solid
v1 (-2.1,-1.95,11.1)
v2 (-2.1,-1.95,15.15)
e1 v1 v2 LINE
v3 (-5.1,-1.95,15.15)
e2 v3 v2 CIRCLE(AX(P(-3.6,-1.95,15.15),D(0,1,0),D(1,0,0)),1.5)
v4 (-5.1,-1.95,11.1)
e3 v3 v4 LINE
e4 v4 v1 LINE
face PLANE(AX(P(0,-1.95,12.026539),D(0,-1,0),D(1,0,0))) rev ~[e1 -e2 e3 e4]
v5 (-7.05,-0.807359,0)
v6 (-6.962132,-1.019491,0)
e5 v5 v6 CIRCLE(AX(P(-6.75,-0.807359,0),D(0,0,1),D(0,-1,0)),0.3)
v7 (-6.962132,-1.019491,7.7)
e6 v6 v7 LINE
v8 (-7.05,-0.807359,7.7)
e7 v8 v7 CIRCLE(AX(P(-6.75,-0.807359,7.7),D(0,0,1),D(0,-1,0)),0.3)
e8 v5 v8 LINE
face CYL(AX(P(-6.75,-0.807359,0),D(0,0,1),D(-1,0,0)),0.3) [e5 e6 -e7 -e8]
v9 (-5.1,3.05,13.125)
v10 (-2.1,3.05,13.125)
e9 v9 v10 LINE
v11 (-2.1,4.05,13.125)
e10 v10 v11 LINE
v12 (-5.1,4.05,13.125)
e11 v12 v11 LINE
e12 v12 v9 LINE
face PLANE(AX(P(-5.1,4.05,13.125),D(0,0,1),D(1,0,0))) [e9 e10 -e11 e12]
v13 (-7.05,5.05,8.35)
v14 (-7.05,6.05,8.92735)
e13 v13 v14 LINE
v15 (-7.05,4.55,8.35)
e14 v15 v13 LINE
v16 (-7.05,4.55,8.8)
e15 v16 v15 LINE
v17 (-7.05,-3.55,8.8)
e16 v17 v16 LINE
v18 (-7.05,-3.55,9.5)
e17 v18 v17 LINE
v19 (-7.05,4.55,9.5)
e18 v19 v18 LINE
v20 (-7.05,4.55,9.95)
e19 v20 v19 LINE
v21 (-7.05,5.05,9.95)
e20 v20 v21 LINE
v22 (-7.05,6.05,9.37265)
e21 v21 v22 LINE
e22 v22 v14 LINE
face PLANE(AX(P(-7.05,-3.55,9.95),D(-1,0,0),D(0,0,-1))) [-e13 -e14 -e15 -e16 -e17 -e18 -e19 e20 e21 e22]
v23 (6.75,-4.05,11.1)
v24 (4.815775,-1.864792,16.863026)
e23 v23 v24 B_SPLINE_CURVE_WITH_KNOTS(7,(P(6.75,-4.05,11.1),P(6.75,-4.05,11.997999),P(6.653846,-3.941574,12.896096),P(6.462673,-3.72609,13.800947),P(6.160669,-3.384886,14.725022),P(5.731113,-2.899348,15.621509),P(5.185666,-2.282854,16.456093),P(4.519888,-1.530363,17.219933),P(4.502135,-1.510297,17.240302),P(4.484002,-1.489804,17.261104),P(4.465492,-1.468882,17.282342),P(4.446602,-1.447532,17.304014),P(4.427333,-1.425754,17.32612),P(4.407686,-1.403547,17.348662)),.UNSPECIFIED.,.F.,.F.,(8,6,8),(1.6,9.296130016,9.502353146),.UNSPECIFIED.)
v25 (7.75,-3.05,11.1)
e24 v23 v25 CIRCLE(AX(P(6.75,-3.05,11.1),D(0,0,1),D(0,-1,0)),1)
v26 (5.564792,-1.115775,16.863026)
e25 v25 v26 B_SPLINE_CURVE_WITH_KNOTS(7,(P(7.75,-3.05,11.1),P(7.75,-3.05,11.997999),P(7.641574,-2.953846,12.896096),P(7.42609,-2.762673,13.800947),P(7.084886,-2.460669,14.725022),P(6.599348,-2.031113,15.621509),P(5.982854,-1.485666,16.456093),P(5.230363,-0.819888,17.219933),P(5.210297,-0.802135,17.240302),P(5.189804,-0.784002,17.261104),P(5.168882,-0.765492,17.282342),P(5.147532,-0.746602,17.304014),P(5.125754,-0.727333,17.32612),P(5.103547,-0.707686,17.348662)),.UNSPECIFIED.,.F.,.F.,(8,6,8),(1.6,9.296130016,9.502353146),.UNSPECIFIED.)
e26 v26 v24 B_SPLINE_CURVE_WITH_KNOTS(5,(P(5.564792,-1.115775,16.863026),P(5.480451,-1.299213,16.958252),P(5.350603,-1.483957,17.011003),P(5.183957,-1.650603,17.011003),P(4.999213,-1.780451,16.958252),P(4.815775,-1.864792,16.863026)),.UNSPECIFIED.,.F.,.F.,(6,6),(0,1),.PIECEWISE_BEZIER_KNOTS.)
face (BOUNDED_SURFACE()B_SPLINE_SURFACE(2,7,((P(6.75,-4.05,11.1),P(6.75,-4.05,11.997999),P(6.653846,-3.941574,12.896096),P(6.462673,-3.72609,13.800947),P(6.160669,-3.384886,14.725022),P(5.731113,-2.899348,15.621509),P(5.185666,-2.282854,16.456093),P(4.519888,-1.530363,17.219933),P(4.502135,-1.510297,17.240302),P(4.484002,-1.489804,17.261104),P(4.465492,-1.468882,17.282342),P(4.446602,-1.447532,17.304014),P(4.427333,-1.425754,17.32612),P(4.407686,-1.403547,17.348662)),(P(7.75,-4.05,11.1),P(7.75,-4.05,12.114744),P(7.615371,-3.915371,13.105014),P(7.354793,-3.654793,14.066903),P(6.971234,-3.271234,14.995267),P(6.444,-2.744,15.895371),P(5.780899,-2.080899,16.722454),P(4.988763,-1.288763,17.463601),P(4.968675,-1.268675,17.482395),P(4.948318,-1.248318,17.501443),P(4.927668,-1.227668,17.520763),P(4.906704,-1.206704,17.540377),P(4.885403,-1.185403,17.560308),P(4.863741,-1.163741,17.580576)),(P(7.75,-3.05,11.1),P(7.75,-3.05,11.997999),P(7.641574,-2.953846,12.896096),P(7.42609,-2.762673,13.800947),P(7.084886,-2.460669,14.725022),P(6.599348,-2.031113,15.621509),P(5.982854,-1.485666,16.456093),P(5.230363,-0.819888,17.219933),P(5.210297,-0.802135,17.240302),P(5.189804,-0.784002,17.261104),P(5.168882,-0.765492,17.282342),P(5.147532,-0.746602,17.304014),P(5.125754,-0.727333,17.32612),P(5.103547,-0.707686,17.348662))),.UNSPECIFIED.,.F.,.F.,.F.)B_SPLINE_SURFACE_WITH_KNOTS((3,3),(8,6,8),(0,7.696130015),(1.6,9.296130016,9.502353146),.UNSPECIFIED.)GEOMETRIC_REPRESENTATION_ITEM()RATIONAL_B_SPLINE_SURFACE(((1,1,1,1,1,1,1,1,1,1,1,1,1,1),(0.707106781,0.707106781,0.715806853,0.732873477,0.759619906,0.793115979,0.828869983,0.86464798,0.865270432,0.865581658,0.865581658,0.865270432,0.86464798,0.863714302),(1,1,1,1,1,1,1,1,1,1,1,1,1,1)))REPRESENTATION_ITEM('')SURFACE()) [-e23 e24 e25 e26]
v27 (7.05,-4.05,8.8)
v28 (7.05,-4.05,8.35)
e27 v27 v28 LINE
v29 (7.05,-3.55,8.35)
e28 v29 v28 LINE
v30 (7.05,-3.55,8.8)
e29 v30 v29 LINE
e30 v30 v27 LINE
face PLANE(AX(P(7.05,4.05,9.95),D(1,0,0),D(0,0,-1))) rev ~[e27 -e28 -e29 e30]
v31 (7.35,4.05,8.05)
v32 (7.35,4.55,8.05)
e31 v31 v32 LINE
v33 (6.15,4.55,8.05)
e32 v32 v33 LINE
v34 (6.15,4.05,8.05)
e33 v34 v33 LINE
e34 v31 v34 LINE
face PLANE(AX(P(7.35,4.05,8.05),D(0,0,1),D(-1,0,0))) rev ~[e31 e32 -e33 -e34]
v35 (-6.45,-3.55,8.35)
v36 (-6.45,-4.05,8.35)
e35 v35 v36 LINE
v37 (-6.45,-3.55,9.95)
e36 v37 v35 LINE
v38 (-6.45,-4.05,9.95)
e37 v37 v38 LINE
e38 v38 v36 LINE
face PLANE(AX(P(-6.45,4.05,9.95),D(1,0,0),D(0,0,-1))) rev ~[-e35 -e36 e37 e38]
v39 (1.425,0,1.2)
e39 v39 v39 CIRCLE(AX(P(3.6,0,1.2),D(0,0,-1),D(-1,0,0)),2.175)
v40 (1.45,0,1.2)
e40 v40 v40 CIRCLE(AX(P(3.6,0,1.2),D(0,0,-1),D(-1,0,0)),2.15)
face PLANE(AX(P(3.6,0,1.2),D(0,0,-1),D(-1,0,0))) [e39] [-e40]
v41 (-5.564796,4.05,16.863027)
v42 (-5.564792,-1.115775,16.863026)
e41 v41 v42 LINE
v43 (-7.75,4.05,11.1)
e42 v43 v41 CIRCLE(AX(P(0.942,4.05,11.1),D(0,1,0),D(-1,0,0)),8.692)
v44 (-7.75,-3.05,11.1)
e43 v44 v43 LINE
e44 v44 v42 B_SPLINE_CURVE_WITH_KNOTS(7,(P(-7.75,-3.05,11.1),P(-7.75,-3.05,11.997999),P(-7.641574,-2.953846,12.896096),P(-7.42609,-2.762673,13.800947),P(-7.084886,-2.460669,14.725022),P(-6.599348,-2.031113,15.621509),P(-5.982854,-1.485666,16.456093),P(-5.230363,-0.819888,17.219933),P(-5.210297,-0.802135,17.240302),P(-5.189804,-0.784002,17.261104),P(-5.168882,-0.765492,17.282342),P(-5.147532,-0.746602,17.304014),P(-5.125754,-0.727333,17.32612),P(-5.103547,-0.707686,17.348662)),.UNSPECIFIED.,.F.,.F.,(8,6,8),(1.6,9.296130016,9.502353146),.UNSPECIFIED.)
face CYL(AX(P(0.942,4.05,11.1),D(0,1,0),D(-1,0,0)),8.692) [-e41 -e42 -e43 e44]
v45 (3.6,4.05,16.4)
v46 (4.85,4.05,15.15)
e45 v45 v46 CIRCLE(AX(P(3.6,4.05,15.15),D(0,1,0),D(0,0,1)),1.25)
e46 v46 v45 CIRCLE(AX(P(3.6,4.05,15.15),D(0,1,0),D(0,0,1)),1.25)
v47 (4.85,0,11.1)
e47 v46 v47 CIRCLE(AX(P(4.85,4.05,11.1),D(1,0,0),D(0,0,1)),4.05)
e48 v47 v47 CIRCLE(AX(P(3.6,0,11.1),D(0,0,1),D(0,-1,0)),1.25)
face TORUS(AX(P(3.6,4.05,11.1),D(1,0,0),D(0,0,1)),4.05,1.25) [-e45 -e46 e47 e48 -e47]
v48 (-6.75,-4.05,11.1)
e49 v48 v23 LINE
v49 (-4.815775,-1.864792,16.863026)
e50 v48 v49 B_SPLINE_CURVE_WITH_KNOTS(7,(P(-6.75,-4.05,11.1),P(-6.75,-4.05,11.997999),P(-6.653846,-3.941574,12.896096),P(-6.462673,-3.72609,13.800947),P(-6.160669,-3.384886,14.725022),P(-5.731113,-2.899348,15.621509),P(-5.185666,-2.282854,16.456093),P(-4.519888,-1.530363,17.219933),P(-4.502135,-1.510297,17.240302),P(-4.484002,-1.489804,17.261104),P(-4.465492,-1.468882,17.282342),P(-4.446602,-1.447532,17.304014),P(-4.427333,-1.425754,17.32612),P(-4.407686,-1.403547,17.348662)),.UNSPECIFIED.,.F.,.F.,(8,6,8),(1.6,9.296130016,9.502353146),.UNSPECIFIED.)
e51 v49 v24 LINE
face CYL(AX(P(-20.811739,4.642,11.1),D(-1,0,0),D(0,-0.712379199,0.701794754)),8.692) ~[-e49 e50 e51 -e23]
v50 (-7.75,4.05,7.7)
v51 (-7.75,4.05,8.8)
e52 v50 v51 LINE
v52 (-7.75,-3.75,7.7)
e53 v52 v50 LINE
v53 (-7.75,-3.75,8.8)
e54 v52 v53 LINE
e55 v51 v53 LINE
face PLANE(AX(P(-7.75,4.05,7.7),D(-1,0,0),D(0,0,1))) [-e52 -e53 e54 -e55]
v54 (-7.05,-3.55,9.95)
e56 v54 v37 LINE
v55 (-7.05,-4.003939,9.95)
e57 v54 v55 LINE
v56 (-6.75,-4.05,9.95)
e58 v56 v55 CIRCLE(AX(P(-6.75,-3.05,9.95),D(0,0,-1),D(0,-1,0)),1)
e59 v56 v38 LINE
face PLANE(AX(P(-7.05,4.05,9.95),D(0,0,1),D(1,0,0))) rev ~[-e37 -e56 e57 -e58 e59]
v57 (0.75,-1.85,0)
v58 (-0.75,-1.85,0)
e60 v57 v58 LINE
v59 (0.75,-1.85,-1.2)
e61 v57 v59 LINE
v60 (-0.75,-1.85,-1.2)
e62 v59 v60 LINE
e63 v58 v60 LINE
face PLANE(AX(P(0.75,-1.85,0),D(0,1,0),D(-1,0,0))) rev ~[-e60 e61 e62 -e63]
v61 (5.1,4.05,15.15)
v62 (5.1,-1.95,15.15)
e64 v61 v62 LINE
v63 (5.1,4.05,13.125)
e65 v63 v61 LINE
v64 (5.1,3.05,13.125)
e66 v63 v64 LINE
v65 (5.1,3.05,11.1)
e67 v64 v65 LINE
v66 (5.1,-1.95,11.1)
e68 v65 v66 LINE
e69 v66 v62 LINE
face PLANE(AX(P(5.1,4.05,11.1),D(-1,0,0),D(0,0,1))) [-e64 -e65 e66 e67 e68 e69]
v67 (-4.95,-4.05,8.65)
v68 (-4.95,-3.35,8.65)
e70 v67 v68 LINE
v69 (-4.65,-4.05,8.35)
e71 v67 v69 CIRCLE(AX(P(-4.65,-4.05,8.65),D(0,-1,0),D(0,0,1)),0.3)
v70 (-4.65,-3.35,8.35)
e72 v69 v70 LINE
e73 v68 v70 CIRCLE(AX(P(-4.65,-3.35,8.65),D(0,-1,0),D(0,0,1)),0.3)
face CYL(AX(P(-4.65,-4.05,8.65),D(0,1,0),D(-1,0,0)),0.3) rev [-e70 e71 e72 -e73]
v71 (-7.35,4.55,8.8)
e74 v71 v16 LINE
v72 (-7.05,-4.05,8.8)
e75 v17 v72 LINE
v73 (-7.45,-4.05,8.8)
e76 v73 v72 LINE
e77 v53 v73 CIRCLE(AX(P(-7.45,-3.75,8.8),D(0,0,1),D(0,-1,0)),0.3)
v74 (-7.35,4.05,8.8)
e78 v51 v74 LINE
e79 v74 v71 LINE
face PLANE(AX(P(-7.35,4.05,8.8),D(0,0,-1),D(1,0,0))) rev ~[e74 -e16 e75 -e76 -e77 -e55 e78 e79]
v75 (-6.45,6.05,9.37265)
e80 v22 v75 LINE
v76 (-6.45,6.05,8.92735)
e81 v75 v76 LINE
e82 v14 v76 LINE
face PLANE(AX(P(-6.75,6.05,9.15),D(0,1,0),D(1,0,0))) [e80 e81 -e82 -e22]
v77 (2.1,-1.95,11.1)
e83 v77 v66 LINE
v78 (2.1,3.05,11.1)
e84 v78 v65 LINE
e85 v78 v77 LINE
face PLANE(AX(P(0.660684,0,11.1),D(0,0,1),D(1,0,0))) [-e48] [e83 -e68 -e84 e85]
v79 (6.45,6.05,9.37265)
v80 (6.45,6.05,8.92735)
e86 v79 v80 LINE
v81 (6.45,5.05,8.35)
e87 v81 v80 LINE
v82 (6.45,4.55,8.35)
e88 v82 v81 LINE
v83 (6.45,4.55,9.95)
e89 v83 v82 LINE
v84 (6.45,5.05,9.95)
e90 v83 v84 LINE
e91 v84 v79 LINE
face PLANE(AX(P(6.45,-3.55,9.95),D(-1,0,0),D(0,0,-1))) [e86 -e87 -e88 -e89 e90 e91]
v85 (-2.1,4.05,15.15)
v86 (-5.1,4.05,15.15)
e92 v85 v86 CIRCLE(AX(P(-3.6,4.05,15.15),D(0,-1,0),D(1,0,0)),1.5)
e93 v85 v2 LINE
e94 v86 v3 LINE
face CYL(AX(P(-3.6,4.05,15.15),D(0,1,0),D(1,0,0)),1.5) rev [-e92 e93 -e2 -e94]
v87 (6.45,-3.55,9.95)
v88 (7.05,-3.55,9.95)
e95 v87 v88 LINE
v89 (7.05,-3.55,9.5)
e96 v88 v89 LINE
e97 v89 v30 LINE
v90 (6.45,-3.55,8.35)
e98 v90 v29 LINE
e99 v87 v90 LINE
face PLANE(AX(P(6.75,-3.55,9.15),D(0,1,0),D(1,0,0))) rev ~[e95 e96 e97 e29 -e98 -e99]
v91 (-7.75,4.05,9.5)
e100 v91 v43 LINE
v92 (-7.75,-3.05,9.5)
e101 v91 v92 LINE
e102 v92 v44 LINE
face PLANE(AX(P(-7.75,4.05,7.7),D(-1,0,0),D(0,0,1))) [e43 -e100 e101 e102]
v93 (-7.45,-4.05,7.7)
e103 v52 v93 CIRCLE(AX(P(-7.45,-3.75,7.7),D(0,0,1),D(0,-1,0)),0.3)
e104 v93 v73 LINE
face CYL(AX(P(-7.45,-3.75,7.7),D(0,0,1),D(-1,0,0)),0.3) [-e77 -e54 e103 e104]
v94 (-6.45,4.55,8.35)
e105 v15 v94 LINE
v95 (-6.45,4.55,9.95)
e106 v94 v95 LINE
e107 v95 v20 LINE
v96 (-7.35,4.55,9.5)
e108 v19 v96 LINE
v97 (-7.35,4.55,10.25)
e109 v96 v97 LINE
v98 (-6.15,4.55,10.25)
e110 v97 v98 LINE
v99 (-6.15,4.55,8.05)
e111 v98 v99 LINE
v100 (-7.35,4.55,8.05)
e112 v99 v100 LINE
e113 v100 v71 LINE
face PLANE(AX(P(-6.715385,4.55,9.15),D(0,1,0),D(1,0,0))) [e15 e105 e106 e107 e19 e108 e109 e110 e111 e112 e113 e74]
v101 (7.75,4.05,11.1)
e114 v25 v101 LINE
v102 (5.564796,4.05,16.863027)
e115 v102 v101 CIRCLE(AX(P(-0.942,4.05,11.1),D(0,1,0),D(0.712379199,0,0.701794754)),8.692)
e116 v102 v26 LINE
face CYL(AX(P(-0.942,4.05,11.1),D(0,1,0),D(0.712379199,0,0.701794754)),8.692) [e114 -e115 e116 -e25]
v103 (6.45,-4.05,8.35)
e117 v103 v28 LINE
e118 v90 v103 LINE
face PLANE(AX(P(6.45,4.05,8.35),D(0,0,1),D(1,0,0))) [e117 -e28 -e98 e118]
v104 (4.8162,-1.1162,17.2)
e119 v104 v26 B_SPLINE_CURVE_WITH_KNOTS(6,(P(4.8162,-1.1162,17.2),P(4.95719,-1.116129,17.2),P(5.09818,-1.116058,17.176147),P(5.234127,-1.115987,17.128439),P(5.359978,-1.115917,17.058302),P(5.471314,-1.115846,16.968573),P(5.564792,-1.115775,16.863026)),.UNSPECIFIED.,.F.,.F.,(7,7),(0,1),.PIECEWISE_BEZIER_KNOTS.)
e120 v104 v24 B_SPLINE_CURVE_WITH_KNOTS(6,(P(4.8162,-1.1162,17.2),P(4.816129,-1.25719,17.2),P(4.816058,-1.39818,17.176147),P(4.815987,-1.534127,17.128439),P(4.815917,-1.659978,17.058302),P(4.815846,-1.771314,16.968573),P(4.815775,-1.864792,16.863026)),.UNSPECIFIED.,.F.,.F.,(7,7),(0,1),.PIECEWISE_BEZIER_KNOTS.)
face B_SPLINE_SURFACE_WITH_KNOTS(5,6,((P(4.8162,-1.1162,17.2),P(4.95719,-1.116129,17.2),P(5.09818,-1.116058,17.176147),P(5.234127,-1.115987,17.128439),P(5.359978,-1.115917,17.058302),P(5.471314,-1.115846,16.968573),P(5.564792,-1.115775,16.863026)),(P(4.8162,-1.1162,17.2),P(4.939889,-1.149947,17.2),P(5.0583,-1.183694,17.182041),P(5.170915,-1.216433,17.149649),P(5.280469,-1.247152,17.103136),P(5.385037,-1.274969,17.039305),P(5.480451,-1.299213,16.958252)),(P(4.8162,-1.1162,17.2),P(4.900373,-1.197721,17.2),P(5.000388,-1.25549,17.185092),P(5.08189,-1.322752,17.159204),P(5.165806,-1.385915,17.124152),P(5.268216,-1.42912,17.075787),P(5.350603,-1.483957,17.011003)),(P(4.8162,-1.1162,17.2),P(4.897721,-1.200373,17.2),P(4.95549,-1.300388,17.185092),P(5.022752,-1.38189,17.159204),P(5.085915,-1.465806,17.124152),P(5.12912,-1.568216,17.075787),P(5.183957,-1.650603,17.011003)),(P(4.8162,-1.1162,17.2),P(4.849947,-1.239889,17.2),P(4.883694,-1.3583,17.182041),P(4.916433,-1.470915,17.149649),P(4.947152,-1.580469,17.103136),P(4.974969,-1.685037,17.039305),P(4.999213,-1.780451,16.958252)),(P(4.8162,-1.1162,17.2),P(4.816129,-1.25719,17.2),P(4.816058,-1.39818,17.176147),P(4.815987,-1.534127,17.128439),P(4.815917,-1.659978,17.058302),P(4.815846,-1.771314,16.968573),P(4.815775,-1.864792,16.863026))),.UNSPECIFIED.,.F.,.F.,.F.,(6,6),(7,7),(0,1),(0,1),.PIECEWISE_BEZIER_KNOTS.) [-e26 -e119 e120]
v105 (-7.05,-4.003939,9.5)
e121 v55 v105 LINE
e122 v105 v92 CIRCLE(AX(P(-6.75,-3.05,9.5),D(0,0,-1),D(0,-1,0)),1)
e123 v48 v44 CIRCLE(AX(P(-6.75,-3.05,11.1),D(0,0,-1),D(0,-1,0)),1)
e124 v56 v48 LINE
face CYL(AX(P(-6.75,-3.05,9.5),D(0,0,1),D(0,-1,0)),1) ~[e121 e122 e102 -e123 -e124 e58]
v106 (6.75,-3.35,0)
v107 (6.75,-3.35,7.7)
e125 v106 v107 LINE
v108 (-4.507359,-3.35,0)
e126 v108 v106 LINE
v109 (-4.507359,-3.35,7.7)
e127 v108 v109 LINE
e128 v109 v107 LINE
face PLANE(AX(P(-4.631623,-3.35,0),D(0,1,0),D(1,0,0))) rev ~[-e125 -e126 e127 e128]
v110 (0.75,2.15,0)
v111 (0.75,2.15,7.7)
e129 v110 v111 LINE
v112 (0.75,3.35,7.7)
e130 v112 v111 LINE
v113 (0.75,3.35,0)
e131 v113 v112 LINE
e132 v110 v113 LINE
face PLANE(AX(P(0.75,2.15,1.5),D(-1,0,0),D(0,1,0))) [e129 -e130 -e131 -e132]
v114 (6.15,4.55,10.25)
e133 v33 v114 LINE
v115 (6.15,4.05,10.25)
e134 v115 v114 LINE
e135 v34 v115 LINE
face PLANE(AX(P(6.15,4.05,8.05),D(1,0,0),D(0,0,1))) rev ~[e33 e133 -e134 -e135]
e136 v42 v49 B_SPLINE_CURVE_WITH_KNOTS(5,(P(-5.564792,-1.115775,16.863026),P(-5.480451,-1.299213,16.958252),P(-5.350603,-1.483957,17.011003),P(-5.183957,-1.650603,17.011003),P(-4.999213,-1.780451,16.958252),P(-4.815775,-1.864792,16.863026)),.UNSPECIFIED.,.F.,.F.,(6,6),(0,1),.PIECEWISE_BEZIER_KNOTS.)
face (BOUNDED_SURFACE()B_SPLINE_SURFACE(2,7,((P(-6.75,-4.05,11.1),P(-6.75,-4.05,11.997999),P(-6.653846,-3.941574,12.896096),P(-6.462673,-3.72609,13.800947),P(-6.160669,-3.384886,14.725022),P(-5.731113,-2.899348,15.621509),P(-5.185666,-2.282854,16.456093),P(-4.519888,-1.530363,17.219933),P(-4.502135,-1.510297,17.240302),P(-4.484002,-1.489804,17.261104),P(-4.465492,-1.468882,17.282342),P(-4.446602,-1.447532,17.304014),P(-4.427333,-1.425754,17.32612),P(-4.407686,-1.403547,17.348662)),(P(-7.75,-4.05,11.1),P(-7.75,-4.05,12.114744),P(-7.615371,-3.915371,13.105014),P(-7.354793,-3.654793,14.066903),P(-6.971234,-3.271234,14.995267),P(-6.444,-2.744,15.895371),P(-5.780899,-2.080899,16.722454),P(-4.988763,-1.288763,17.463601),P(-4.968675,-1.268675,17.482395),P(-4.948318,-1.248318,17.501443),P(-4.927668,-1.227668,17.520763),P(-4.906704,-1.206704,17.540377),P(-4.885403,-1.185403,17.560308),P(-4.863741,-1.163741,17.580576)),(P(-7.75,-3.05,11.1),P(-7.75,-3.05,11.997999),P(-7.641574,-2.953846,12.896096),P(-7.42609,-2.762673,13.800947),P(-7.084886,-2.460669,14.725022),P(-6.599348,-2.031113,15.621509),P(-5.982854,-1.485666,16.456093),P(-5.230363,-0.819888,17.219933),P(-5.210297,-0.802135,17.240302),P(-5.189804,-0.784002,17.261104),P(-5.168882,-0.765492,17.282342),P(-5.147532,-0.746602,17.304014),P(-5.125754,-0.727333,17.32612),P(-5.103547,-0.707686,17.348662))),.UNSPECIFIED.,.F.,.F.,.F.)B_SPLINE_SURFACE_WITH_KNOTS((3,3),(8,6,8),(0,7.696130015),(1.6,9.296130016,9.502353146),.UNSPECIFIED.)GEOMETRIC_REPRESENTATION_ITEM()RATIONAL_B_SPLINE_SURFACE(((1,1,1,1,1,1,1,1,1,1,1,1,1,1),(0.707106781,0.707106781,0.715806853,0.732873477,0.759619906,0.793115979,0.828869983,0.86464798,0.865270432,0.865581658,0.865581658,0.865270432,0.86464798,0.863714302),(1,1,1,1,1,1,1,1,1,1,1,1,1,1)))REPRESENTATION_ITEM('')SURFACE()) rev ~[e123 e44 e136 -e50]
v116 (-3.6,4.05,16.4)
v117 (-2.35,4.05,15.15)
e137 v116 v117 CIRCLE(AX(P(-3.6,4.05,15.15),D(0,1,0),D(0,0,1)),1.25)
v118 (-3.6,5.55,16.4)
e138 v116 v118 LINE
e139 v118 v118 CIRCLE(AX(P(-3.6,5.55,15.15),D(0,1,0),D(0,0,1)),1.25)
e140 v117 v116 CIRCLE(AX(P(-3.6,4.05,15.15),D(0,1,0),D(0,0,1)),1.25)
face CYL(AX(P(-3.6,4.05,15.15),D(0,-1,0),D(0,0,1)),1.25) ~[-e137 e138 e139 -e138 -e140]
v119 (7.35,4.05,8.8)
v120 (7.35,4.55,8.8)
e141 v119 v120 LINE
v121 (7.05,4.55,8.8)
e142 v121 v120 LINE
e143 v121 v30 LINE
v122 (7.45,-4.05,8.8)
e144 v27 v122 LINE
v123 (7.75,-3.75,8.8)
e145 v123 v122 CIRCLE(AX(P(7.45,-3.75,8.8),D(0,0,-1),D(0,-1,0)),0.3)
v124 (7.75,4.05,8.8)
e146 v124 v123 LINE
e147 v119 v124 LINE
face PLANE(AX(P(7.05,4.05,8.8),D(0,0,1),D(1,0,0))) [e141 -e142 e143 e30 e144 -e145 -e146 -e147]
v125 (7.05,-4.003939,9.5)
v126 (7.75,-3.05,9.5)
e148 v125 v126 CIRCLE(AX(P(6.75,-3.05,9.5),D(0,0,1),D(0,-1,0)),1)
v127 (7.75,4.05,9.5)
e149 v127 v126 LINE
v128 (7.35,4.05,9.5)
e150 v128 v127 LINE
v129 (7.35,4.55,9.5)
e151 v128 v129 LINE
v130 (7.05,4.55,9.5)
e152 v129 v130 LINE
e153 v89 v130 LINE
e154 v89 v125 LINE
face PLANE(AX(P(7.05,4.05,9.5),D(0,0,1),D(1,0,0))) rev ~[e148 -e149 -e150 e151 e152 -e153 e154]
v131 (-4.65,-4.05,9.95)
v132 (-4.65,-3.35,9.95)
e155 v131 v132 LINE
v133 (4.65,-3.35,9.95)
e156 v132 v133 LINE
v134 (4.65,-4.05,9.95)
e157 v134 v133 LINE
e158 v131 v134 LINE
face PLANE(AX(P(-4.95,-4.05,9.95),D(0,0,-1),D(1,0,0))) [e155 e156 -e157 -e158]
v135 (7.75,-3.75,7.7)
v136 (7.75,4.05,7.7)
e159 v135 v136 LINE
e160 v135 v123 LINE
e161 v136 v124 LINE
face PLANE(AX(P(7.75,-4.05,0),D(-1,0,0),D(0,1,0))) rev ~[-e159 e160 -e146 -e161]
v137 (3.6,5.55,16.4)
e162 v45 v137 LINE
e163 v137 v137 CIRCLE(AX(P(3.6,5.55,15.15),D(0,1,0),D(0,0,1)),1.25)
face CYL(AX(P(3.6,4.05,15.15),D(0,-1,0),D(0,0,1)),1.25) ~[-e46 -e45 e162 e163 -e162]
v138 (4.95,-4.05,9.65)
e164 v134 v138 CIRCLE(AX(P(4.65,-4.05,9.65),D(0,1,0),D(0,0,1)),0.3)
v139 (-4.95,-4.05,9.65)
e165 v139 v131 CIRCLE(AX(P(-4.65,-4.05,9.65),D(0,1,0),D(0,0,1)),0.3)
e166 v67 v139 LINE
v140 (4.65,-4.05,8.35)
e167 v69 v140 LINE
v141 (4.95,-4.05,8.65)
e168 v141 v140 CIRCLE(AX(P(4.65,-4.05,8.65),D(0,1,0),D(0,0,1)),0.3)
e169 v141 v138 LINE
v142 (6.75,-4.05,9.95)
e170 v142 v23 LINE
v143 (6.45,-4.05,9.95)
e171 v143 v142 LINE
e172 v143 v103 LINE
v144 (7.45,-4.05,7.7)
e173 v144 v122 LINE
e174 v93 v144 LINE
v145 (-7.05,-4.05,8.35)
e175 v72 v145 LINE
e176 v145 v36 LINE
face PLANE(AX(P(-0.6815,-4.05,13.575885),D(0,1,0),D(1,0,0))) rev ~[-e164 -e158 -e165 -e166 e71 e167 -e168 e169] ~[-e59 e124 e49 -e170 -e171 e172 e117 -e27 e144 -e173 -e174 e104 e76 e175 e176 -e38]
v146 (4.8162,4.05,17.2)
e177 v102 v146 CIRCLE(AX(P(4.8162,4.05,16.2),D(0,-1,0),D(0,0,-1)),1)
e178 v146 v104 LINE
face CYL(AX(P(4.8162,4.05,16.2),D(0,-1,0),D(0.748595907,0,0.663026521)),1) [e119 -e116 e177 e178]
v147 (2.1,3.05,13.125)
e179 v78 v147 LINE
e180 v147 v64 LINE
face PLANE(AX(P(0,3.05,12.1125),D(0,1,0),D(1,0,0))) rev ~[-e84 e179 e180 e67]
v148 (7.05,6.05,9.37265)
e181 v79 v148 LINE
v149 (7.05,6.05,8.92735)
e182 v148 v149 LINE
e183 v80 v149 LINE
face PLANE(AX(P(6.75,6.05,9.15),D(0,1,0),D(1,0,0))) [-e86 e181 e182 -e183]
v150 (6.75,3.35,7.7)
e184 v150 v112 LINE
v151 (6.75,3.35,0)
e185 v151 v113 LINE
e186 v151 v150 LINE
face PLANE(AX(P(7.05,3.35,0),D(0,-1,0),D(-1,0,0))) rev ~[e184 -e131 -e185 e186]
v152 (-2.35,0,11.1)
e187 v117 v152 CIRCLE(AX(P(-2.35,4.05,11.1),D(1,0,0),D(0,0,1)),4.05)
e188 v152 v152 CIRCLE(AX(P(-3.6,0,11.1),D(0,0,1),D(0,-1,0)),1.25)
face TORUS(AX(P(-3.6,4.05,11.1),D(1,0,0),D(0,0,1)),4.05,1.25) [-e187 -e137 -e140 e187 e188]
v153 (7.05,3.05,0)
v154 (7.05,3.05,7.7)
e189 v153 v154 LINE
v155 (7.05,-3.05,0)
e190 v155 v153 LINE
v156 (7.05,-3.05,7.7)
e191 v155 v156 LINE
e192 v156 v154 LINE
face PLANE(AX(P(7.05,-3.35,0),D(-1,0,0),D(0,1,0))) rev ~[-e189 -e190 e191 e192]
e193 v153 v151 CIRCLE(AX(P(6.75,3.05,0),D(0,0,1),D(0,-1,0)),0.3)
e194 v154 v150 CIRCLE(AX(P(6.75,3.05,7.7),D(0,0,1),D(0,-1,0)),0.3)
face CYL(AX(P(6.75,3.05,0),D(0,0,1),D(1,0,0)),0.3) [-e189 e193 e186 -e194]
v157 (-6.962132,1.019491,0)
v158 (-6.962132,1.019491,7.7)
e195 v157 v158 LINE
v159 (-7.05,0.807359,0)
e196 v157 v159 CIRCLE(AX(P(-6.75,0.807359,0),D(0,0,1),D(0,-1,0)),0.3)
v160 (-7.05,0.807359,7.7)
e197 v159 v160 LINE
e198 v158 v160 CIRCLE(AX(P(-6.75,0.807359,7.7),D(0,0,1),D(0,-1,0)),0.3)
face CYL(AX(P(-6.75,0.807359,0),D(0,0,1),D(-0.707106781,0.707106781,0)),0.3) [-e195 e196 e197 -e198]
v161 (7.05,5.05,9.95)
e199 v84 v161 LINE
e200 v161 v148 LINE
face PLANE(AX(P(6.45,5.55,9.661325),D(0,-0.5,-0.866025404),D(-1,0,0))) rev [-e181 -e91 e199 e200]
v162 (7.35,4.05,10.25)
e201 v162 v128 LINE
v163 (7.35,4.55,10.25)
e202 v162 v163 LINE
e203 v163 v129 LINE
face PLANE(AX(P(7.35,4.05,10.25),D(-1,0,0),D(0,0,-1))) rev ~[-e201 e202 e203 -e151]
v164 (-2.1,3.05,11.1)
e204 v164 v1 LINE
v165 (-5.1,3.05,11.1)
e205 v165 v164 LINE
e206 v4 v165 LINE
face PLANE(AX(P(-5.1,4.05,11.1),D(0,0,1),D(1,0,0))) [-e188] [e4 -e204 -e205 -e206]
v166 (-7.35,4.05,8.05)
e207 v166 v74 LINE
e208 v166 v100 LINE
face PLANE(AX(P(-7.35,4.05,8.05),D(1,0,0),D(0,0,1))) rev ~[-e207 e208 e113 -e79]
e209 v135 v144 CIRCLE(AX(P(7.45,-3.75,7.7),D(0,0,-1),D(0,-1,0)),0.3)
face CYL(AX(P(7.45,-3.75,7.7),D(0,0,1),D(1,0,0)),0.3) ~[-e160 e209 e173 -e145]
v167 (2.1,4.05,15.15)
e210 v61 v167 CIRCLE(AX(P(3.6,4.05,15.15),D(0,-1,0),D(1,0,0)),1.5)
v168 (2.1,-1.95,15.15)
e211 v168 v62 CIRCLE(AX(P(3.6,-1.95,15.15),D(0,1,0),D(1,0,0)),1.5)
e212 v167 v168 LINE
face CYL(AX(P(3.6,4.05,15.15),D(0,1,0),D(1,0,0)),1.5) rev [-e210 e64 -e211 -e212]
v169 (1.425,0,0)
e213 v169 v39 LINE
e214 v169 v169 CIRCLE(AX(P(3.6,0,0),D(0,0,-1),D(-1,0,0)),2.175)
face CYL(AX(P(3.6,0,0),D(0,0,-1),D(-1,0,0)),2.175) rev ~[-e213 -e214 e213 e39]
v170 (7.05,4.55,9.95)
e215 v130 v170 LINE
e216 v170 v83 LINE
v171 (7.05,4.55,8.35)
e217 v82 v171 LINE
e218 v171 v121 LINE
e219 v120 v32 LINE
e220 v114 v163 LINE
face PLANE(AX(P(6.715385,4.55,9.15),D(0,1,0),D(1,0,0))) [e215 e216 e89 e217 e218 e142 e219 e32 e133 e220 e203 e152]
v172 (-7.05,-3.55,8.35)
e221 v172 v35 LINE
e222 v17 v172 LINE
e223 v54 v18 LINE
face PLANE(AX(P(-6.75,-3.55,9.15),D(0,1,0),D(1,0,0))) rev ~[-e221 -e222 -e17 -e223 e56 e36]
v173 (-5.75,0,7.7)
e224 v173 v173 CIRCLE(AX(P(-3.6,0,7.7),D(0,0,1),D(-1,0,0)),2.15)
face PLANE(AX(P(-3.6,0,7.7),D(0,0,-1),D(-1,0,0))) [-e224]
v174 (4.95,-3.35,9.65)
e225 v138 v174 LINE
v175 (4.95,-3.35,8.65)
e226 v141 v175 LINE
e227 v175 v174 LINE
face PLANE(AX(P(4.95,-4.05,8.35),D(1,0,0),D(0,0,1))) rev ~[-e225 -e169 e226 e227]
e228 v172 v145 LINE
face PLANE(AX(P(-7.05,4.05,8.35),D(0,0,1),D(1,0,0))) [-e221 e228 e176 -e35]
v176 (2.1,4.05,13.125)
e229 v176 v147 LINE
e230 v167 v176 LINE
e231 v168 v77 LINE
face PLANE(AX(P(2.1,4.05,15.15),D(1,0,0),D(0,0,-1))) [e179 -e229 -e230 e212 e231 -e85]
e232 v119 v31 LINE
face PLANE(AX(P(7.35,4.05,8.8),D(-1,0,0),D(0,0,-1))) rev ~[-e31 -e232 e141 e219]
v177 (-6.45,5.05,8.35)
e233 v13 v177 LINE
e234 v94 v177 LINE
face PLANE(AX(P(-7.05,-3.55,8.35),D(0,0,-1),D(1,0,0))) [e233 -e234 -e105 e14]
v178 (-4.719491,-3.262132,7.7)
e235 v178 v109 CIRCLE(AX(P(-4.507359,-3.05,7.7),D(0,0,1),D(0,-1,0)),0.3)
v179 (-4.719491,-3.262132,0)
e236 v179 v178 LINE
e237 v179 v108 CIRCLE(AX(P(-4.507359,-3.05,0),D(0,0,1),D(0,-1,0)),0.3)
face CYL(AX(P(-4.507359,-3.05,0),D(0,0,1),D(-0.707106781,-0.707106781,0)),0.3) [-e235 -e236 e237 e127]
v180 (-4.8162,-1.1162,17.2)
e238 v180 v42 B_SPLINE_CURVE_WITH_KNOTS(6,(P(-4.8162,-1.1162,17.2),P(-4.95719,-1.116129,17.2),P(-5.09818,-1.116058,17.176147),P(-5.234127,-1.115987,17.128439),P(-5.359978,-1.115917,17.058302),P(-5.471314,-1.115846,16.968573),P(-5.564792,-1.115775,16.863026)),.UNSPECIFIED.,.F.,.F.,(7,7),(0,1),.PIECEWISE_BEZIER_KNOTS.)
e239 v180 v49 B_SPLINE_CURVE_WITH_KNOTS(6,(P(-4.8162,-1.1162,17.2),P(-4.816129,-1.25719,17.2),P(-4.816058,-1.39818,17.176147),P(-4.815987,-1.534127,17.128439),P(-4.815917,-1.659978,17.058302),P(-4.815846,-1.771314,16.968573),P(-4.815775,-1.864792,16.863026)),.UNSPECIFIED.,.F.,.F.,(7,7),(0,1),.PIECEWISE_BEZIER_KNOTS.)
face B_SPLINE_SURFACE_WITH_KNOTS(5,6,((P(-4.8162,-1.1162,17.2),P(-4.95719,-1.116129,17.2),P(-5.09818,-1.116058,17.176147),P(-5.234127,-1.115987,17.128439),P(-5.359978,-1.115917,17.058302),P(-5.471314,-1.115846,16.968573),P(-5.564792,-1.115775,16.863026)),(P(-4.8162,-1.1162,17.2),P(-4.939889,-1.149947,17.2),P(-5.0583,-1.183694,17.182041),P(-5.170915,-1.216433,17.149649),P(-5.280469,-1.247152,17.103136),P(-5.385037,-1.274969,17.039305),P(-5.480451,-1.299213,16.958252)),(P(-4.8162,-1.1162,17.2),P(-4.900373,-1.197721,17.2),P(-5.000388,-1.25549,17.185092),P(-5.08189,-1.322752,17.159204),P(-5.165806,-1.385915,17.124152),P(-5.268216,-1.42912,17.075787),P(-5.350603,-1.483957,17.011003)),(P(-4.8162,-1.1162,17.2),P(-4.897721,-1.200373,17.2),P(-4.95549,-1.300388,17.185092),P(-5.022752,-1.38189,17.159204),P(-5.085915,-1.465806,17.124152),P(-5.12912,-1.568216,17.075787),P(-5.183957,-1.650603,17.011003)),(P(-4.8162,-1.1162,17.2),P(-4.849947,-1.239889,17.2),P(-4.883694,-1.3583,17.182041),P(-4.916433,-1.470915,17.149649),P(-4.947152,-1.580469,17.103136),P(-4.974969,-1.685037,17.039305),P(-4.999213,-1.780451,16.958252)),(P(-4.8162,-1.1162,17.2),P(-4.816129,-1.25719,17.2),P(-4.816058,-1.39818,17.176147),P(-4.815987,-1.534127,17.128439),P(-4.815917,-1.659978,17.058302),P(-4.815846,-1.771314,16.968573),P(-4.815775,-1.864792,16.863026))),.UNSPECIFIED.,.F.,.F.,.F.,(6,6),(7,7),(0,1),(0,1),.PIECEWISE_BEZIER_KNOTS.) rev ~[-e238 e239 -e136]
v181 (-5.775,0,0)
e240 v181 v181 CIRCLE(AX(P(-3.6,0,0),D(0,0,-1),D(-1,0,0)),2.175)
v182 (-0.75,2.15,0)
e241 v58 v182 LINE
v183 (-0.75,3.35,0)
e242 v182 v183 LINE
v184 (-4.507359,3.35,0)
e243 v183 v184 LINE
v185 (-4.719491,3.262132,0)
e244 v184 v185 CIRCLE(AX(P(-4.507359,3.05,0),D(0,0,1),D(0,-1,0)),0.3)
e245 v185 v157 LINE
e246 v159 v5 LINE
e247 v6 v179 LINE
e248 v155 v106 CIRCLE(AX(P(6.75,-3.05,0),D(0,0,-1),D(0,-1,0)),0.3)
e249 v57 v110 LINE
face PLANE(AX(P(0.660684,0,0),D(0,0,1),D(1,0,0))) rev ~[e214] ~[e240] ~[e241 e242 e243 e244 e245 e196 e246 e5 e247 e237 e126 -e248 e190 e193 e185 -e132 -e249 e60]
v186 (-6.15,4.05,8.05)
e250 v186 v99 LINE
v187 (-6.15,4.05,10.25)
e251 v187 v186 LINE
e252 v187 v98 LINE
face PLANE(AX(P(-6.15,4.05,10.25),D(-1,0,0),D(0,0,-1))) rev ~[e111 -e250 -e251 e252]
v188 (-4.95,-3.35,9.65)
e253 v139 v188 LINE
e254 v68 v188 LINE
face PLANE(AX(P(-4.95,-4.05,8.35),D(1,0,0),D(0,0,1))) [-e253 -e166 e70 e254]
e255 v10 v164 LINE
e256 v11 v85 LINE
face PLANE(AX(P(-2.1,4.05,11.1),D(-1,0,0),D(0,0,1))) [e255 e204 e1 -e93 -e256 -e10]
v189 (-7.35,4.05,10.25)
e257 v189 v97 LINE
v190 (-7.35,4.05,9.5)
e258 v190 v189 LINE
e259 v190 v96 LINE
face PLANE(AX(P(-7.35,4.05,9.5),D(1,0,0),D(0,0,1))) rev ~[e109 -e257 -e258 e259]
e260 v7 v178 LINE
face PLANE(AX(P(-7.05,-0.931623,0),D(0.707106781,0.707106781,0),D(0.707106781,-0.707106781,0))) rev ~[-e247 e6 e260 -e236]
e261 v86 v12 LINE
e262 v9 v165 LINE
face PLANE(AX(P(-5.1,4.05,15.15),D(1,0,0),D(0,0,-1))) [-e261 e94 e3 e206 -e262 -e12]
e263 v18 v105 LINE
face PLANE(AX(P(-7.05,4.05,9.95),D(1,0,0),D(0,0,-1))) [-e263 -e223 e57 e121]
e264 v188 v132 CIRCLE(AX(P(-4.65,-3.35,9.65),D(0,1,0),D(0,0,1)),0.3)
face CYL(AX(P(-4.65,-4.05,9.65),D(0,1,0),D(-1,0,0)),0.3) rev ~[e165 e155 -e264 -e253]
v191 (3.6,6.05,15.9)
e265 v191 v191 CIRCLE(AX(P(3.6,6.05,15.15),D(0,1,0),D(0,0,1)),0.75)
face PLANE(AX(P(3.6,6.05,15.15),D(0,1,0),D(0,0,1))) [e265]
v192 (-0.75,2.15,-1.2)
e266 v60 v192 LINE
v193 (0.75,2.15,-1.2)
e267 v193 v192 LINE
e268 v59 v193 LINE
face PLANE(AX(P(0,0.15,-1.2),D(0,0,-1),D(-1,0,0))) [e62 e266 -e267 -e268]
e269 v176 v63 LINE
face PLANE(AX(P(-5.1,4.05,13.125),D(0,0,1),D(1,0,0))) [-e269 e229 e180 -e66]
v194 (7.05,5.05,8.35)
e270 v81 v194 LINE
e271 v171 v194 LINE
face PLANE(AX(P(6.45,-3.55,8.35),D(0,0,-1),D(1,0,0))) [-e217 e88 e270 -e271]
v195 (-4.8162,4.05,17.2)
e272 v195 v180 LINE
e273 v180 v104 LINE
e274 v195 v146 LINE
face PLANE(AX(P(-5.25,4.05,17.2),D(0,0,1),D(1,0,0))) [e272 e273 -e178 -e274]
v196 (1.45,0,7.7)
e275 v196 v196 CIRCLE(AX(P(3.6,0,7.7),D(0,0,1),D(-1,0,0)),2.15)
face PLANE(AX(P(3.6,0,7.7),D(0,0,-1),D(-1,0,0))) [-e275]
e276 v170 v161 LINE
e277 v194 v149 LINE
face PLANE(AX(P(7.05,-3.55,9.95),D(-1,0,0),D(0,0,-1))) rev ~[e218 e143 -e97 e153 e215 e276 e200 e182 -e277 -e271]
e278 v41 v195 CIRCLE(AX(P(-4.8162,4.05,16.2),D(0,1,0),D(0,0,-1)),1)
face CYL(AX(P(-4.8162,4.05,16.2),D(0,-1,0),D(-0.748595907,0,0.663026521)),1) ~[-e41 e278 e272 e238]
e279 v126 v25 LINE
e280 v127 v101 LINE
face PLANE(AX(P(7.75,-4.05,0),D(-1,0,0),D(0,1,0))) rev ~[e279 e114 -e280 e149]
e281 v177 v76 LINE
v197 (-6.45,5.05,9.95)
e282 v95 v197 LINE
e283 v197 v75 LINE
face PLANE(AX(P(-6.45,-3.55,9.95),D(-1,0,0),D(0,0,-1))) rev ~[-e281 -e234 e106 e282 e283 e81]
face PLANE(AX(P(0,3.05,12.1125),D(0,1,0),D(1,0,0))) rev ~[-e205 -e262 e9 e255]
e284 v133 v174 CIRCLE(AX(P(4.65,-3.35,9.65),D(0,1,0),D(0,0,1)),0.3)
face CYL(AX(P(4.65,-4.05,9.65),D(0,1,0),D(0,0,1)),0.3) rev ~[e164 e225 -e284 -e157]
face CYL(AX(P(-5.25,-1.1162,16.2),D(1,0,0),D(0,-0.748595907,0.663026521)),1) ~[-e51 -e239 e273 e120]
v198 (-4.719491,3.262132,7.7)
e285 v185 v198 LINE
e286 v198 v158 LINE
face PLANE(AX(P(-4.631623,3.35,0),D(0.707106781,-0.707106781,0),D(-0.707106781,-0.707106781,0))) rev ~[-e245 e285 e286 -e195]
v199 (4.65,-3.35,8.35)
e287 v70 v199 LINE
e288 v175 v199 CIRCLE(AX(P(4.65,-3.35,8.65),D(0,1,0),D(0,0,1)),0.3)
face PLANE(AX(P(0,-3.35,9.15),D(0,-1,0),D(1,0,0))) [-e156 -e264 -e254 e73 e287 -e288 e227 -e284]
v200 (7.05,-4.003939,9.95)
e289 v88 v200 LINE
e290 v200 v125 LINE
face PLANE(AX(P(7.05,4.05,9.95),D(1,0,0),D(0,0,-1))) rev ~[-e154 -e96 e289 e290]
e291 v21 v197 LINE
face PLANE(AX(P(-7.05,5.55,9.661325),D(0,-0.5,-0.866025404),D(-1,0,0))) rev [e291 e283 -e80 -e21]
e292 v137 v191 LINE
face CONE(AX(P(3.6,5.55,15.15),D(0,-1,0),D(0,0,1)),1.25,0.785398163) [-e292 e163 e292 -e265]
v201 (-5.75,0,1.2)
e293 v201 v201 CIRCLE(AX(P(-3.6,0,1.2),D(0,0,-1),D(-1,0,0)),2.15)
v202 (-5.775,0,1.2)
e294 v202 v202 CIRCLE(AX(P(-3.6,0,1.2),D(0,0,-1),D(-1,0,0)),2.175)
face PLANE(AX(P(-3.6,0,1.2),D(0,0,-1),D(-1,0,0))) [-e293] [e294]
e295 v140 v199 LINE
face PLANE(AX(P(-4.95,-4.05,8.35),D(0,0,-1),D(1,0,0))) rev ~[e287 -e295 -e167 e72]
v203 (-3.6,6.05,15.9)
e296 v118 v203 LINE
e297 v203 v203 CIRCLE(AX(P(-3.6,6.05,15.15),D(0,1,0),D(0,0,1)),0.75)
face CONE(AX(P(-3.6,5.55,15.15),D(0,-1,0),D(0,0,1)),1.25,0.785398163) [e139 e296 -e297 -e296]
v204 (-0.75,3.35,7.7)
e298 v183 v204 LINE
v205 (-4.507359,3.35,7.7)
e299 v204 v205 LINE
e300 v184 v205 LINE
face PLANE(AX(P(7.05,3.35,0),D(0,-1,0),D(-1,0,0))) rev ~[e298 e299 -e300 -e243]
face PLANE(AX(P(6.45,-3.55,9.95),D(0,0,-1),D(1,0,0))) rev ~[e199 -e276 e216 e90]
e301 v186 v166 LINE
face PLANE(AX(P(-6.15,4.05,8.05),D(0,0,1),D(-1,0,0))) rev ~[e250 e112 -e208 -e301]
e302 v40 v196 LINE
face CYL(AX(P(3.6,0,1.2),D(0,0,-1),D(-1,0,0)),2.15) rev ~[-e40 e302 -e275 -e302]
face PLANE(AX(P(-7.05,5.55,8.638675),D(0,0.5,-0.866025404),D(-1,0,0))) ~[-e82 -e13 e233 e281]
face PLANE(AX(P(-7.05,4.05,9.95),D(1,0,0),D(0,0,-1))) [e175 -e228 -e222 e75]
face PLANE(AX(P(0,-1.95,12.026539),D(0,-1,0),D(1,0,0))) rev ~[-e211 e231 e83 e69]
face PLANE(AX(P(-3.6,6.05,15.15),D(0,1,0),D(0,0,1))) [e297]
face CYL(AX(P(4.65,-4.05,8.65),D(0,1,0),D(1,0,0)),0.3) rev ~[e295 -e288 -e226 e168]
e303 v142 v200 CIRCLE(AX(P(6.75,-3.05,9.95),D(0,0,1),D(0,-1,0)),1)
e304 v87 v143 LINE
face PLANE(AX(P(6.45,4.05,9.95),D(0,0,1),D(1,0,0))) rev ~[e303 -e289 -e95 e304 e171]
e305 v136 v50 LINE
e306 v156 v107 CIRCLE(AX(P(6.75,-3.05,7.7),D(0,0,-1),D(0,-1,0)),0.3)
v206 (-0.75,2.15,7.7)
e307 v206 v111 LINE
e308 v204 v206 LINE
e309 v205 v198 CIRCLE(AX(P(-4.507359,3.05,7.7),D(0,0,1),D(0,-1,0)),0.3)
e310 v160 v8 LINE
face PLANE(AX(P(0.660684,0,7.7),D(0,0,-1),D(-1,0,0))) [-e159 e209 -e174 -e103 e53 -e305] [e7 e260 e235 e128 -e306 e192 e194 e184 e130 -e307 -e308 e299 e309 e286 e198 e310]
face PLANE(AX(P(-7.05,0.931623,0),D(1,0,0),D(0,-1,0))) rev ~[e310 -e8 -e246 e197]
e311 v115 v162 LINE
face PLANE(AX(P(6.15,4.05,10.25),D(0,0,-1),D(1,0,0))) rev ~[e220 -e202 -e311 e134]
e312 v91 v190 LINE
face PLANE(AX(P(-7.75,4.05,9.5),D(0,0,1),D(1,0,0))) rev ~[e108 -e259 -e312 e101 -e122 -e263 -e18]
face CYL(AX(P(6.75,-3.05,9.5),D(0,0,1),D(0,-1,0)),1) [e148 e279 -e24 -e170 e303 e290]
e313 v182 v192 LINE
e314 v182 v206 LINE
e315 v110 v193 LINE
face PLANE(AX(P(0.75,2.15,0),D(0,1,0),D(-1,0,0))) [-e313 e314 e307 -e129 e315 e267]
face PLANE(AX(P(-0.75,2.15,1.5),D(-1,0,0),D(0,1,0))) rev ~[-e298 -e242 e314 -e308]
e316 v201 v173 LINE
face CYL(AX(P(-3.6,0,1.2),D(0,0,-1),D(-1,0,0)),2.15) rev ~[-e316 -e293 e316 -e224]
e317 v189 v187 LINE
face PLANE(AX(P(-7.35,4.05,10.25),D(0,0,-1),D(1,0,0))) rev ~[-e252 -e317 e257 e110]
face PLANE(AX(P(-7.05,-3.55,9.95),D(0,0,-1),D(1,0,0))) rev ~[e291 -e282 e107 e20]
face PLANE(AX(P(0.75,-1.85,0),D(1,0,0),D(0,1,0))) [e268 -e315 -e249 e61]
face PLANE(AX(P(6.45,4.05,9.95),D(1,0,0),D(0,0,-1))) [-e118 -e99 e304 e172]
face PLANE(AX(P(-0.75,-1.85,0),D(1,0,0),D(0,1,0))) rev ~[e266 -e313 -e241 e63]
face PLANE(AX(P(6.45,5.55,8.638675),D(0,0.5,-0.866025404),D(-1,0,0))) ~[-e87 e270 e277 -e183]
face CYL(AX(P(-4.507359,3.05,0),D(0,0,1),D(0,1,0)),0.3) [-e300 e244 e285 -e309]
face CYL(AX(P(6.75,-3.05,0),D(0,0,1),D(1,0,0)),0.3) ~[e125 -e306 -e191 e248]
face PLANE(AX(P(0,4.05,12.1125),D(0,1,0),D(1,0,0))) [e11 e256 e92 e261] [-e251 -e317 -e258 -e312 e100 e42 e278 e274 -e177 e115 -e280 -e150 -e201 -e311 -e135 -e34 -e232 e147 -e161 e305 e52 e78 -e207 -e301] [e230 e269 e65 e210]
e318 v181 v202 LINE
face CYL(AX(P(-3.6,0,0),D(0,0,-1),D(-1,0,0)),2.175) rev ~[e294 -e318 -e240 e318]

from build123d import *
from OCP.BRepFilletAPI import BRepFilletAPI_MakeChamfer

# Parameters (mm, degrees)
EXTRUDE_1_DEPTH                  = 11.1
CUT_EXTRUDE_1_DEPTH              = 7.7
SKETCH_13_R                      = 2.175
CUT_EXTRUDE_9_DEPTH              = 7.7
CUT_EXTRUDE_10_REACH             = 14.986
SKETCH_3_W                       = 1.5
SKETCH_3_H                       = 1.2
CUT_EXTRUDE_10_DIRECTION_2_REACH = 14.986
SKETCH_14_W                      = 1.5
SKETCH_14_H                      = 4
EXTRUDE_5_DEPTH                  = 1.2
EXTRUDE_START                    = 6.5
SKETCH_5_R                       = 2.175
EXTRUDE_3_DEPTH                  = 6.5
SKETCH_10_R                      = 2.15
CUT_EXTRUDE_7_DEPTH              = 6.5
SKETCH_16_R                      = 1.25
SKETCH_18_R                      = 1.25
EXTRUDE_7_DEPTH                  = 2
EXTRUDE_8_DEPTH                  = 8.1
EXTRUDE_START_2                  = -2.1
EXTRUDE_9_DEPTH                  = 2.1
SKETCH_21_W                      = 10.2
SKETCH_21_H                      = 2.025
EXTRUDE_12_DEPTH                 = 1
SKETCH_22_W                      = 0.6
SKETCH_22_H                      = 1.6
CUT_EXTRUDE_12_DEPTH             = 21.530769591
SKETCH_23_W                      = 0.7
SKETCH_23_H                      = 0.7
CUT_EXTRUDE_13_DEPTH             = 21.530769591
EXTRUDE_13_DEPTH                 = 2
EXTRUDE_13_DEPTH_BACK            = 7.6
SKETCH_24_W                      = 0.6
SKETCH_24_H                      = 1.6
EXTRUDE_14_DEPTH                 = 0.5
CHAMFER_2_SIZE                   = 1
CHAMFER_2_SIZE2                  = 0.577350269
CHAMFER_3_SIZE                   = 0.5
SKETCH_26_W                      = 9.9
SKETCH_26_H                      = 1.6
CUT_EXTRUDE_14_DEPTH             = 0.7
FILLET_4_R                       = 0.3
CUT_EXTRUDE_15_DEPTH             = 20.811738944
CUT_EXTRUDE_15_DEPTH_BACK        = 20.811738944
FILLET_5_R                       = 1


with BuildPart() as part:
    # Эскиз1 → Бобышка-Вытянуть1 (new body)
    with BuildSketch(Plane.XY):
        Polygon((-7.75, 1.221572875), (-7.75, -1.221572875), (-4.921572875, -4.05), (7.75, -4.05), (7.75, 4.05), (-4.921572875, 4.05), align=None)
    extrude(amount=EXTRUDE_1_DEPTH)

    # Эскиз2 → Вырез-Вытянуть1 (cut)
    with BuildSketch(Plane(origin=(0, 0, 0), x_dir=(-1, 0, 0), z_dir=(0, 0, -1))):
        Polygon((-7.75, 4.05), (-7.75, -4.05), (4.921572875, -4.05), (7.75, -1.221572875), (7.75, 1.221572875), (4.921572875, 4.05), align=None)
        Polygon((4.631623382, 3.35), (7.05, 0.931623382), (7.05, -0.931623382), (4.631623382, -3.35), (-7.05, -3.35), (-7.05, 3.35), align=None, mode=Mode.SUBTRACT)
    extrude(amount=-CUT_EXTRUDE_1_DEPTH, mode=Mode.SUBTRACT)

    # Эскиз13 → Вырез-Вытянуть9 (cut)
    with BuildSketch(Plane(origin=(0, 0, 0), x_dir=(-1, 0, 0), z_dir=(0, 0, -1))):
        with Locations((-3.6, 0)):
            Circle(SKETCH_13_R)
        with Locations((3.6, 0)):
            Circle(SKETCH_13_R)
    extrude(amount=-CUT_EXTRUDE_9_DEPTH, mode=Mode.SUBTRACT)

    # Вырез-Вытянуть10: up to this face of the body (flat: up to its plane)
    cut_extrude_10_end = Plane(part.part.faces().sort_by_distance((-3.6, 0, 7.7))[0])
    # Эскиз3 → Вырез-Вытянуть10 (cut, up to the picked face)
    with BuildSketch(Plane(origin=(0, 0, 1.5), x_dir=(-1, 0, 0), z_dir=(0, 0, -1)), mode=Mode.PRIVATE) as cut_extrude_10_sk1:
        with Locations((0, 2.75)):
            Rectangle(SKETCH_3_W, SKETCH_3_H)
    cut_extrude_10_tool1 = split(extrude(cut_extrude_10_sk1.sketch, amount=-CUT_EXTRUDE_10_REACH, mode=Mode.PRIVATE), bisect_by=cut_extrude_10_end, keep=Keep.BOTH, mode=Mode.PRIVATE)
    add(cut_extrude_10_tool1.solids().sort_by(Axis((0, 2.75, 1.5), (0, 0, 1)))[0], mode=Mode.SUBTRACT)

    # Вырез-Вытянуть10 direction 2: up to this face of the body (flat: up to its plane)
    cut_extrude_10_direction_2_end = Plane(part.part.faces().sort_by_distance((0.620013342, 0, 0))[0])
    # Эскиз3 → Вырез-Вытянуть10 direction 2 (cut, up to the picked face)
    with BuildSketch(Plane(origin=(0, 0, 1.5), x_dir=(-1, 0, 0), z_dir=(0, 0, -1)), mode=Mode.PRIVATE) as cut_extrude_10_direction_2_sk1:
        with Locations((0, 2.75)):
            Rectangle(SKETCH_3_W, SKETCH_3_H)
    cut_extrude_10_direction_2_tool1 = split(extrude(cut_extrude_10_direction_2_sk1.sketch, amount=CUT_EXTRUDE_10_DIRECTION_2_REACH, mode=Mode.PRIVATE), bisect_by=cut_extrude_10_direction_2_end, keep=Keep.BOTH, mode=Mode.PRIVATE)
    add(cut_extrude_10_direction_2_tool1.solids().sort_by(Axis((0, 2.75, 1.5), (0, 0, -1)))[0], mode=Mode.SUBTRACT)

    # Эскиз14 → Бобышка-Вытянуть5 (add)
    with BuildSketch(Plane(origin=(0, 0, 0), x_dir=(-1, 0, 0), z_dir=(0, 0, -1))):
        with Locations((0, 0.15)):
            Rectangle(SKETCH_14_W, SKETCH_14_H)
    extrude(amount=EXTRUDE_5_DEPTH)

    # Эскиз5 → Бобышка-Вытянуть3 (add)
    with BuildSketch(Plane(origin=(0, 0, 7.7), x_dir=(-1, 0, 0), z_dir=(0, 0, -1)).offset(EXTRUDE_START)):
        with Locations((3.6, 0)):
            Circle(SKETCH_5_R)
        with Locations((-3.6, 0)):
            Circle(SKETCH_5_R)
    extrude(amount=-EXTRUDE_3_DEPTH)

    # Эскиз10 → Вырез-Вытянуть7 (cut)
    with BuildSketch(Plane(origin=(0, 0, 1.2), x_dir=(-1, 0, 0), z_dir=(0, 0, -1))):
        with Locations((-3.6, 0)):
            Circle(SKETCH_10_R)
        with Locations((3.6, 0)):
            Circle(SKETCH_10_R)
    extrude(amount=-CUT_EXTRUDE_7_DEPTH, mode=Mode.SUBTRACT)

    # По траектории1: sweep along a path in Эскиз17
    with BuildLine(Plane(origin=(0, 0, 0), x_dir=(0, 0, -1), z_dir=(1, 0, 0))) as sweep_1_path:
        ThreePointArc((-15.15, 4.05), (-13.963782464, 1.186217536), (-11.1, 0))
    # Эскиз16 → По траектории1 (sweep)
    with BuildSketch(Plane.XY.offset(11.1)):
        with Locations((3.6, 0)):
            Circle(SKETCH_16_R)
        with Locations((-3.6, 0)):
            Circle(SKETCH_16_R)
    sweep(path=sweep_1_path.line)

    # Эскиз18 → Бобышка-Вытянуть7 (add)
    with BuildSketch(Plane(origin=(0, 4.05, 0), x_dir=(1, 0, 0), z_dir=(0, 1, 0))):
        with Locations(Location((3.6, -15.15, 0), (0, 0, 270))):
            Circle(SKETCH_18_R)
        with Locations(Location((-3.6, -15.15, 0), (0, 0, 270))):
            Circle(SKETCH_18_R)
    extrude(amount=EXTRUDE_7_DEPTH)

    # Эскиз19 → Бобышка-Вытянуть8 (add)
    with BuildSketch(Plane(origin=(0, 4.05, 0), x_dir=(1, 0, 0), z_dir=(0, 1, 0))):
        with BuildLine():
            ThreePointArc((5.25, -17.2), (7.100752265, -14.396209945), (7.75, -11.1))
            Line((7.75, -11.1), (5.1, -11.1))
            Line((5.1, -11.1), (5.1, -15.15))
            ThreePointArc((5.1, -15.15), (3.6, -16.65), (2.1, -15.15))
            Line((2.1, -15.15), (2.1, -11.1))
            Line((2.1, -11.1), (-2.1, -11.1))
            Line((-2.1, -11.1), (-2.1, -15.15))
            ThreePointArc((-2.1, -15.15), (-3.6, -16.65), (-5.1, -15.15))
            Line((-5.1, -15.15), (-5.1, -11.1))
            Line((-5.1, -11.1), (-4.921572875, -11.1))
            Line((-4.921572875, -11.1), (-4.921572875, -7.7))
            Line((-4.921572875, -7.7), (-7.75, -7.7))
            Line((-7.75, -7.7), (-7.75, -11.1))
            ThreePointArc((-7.75, -11.1), (-7.100752265, -14.396209945), (-5.25, -17.2))
            Line((-5.25, -17.2), (5.25, -17.2))
        make_face()
    extrude(amount=-EXTRUDE_8_DEPTH)

    # Эскиз20 → Бобышка-Вытянуть9 (add)
    with BuildSketch(Plane.XZ.offset(4.05).offset(EXTRUDE_START_2)):
        with BuildLine():
            Line((-7.75, 7.7), (7.75, 7.7))
            Line((7.75, 7.7), (7.75, 11.1))
            ThreePointArc((7.75, 11.1), (7.100752265, 14.396209945), (5.25, 17.2))
            Line((5.25, 17.2), (-5.25, 17.2))
            ThreePointArc((-5.25, 17.2), (-7.100752265, 14.396209945), (-7.75, 11.1))
            Line((-7.75, 11.1), (-7.75, 7.7))
        make_face()
    extrude(amount=EXTRUDE_9_DEPTH)

    # Эскиз21 → Бобышка-Вытянуть12 (add)
    with BuildSketch(Plane(origin=(0, 4.05, 0), x_dir=(1, 0, 0), z_dir=(0, 1, 0))):
        with Locations((0, -12.1125)):
            Rectangle(SKETCH_21_W, SKETCH_21_H)
    extrude(amount=-EXTRUDE_12_DEPTH)

    # Эскиз22 → Вырез-Вытянуть12 (cut, through all)
    with BuildSketch(Plane(origin=(0, 4.05, 0), x_dir=(1, 0, 0), z_dir=(0, 1, 0))):
        with Locations((-6.75, -9.15)):
            Rectangle(SKETCH_22_W, SKETCH_22_H)
        with Locations((6.75, -9.15)):
            Rectangle(SKETCH_22_W, SKETCH_22_H)
    extrude(amount=-CUT_EXTRUDE_12_DEPTH, mode=Mode.SUBTRACT)

    # Эскиз23 → Вырез-Вытянуть13 (cut, through all)
    with BuildSketch(Plane(origin=(0, 4.05, 0), x_dir=(1, 0, 0), z_dir=(0, 1, 0))):
        with Locations((-7.4, -9.15)):
            Rectangle(SKETCH_23_W, SKETCH_23_H)
        with Locations((7.4, -9.15)):
            Rectangle(SKETCH_23_W, SKETCH_23_H)
    extrude(amount=-CUT_EXTRUDE_13_DEPTH, mode=Mode.SUBTRACT)

    # Эскиз24 → Бобышка-Вытянуть13 (add, two sides: drawn at the far end of the back side and taken through both)
    with BuildSketch(Plane(origin=(0, 4.05, 0), x_dir=(1, 0, 0), z_dir=(0, 1, 0)).offset(-EXTRUDE_13_DEPTH_BACK)):
        with Locations((-6.75, -9.15)):
            Rectangle(SKETCH_24_W, SKETCH_24_H)
        with Locations((6.75, -9.15)):
            Rectangle(SKETCH_24_W, SKETCH_24_H)
    extrude(amount=EXTRUDE_13_DEPTH + EXTRUDE_13_DEPTH_BACK)

    # Эскиз25 → Бобышка-Вытянуть14 (add)
    with BuildSketch(Plane(origin=(0, 4.05, 0), x_dir=(1, 0, 0), z_dir=(0, 1, 0))):
        Polygon((-6.15, -8.05), (-7.35, -8.05), (-7.35, -8.8), (-7.05, -8.8), (-7.05, -8.35), (-6.45, -8.35), (-6.45, -9.95), (-7.05, -9.95), (-7.05, -9.5), (-7.35, -9.5), (-7.35, -10.25), (-6.15, -10.25), align=None)
        Polygon((7.35, -8.05), (6.15, -8.05), (6.15, -10.25), (7.35, -10.25), (7.35, -9.5), (7.05, -9.5), (7.05, -9.95), (6.45, -9.95), (6.45, -8.35), (7.05, -8.35), (7.05, -8.8), (7.35, -8.8), align=None)
    extrude(amount=EXTRUDE_14_DEPTH)

    # Фаска2: one chamfer whose edges measure the first distance from different faces: ONE call of the kernel's chamfer builder (chamfer() names one face for all edges)
    chamfer_2_edges_1 = [part.edges().sort_by_distance(p)[0] for p in [
        (-6.75, 6.05, 9.95),
    ]]
    chamfer_2_side_1 = [part.faces().sort_by_distance(p)[0] for p in [
        (-6.75, 5.3, 9.95),
    ]]
    chamfer_2_edges_2 = [part.edges().sort_by_distance(p)[0] for p in [
        (-6.75, 6.05, 8.35),
    ]]
    chamfer_2_side_2 = [part.faces().sort_by_distance(p)[0] for p in [
        (-6.75, 5.3, 8.35),
    ]]
    chamfer_2_edges_3 = [part.edges().sort_by_distance(p)[0] for p in [
        (6.75, 6.05, 9.95),
    ]]
    chamfer_2_side_3 = [part.faces().sort_by_distance(p)[0] for p in [
        (6.75, 5.3, 9.95),
    ]]
    chamfer_2_edges_4 = [part.edges().sort_by_distance(p)[0] for p in [
        (6.75, 6.05, 8.35),
    ]]
    chamfer_2_side_4 = [part.faces().sort_by_distance(p)[0] for p in [
        (6.75, 5.3, 8.35),
    ]]
    chamfer_2 = BRepFilletAPI_MakeChamfer(part.part.solid().wrapped)
    for e in chamfer_2_edges_1:
        chamfer_2.Add(CHAMFER_2_SIZE, CHAMFER_2_SIZE2, e.wrapped, chamfer_2_side_1[0].wrapped)  # the first distance lies on this face
    for e in chamfer_2_edges_2:
        chamfer_2.Add(CHAMFER_2_SIZE, CHAMFER_2_SIZE2, e.wrapped, chamfer_2_side_2[0].wrapped)  # the first distance lies on this face
    for e in chamfer_2_edges_3:
        chamfer_2.Add(CHAMFER_2_SIZE, CHAMFER_2_SIZE2, e.wrapped, chamfer_2_side_3[0].wrapped)  # the first distance lies on this face
    for e in chamfer_2_edges_4:
        chamfer_2.Add(CHAMFER_2_SIZE, CHAMFER_2_SIZE2, e.wrapped, chamfer_2_side_4[0].wrapped)  # the first distance lies on this face
    add(Compound.cast(chamfer_2.Shape()), mode=Mode.REPLACE)

    # Фаска3
    chamfer_3_edges = [part.edges().sort_by_distance(p)[0] for p in [
        (3.6, 6.05, 13.9),
        (-3.6, 6.05, 13.9),
    ]]
    chamfer(chamfer_3_edges, length=CHAMFER_3_SIZE)

    # Эскиз26 → Вырез-Вытянуть14 (cut)
    with BuildSketch(Plane.XZ.offset(4.05)):
        with Locations((0, 9.15)):
            Rectangle(SKETCH_26_W, SKETCH_26_H)
    extrude(amount=-CUT_EXTRUDE_14_DEPTH, mode=Mode.SUBTRACT)

    # Скругление4
    fillet_4_edges = [part.edges().sort_by_distance(p)[0] for p in [
        (7.75, -4.05, 8.25),
        (-7.75, -4.05, 8.25),
        (7.05, 3.35, 3.85),
        (7.05, -3.35, 3.85),
        (-4.631623382, -3.35, 3.85),
        (-7.05, -0.931623382, 3.85),
        (-7.05, 0.931623382, 3.85),
        (-4.631623382, 3.35, 3.85),
        (4.95, -3.7, 9.95),
        (4.95, -3.7, 8.35),
        (-4.95, -3.7, 8.35),
        (-4.95, -3.7, 9.95),
    ]]
    fillet(fillet_4_edges, radius=FILLET_4_R)

    # Эскиз27 → Вырез-Вытянуть15 (cut, two sides: drawn at the far end of the back side and taken through both)
    with BuildSketch(Plane(origin=(0, 0, 0), x_dir=(0, 0, -1), z_dir=(1, 0, 0)).offset(-CUT_EXTRUDE_15_DEPTH_BACK)):
        with BuildLine():
            Line((-11.1, -4.05), (-17.2, -4.05))
            Line((-17.2, -4.05), (-17.2, -1.55))
            ThreePointArc((-17.2, -1.55), (-14.396209945, -3.400752265), (-11.1, -4.05))
        make_face()
    extrude(amount=CUT_EXTRUDE_15_DEPTH + CUT_EXTRUDE_15_DEPTH_BACK, mode=Mode.SUBTRACT)

    # Скругление5
    fillet_5_edges = [part.edges().sort_by_distance(p)[0] for p in [
        (7.75, -4.05, 10.3),
        (-7.75, -4.05, 10.3),
        (5.25, 1.25, 17.2),
        (-5.25, 1.25, 17.2),
        (7.027776856, -3.327776856, 14.568936562),
        (-7.027776856, -3.327776856, 14.568936562),
        (0, -1.55, 17.2),
    ]]
    fillet(fillet_5_edges, radius=FILLET_5_R)


solid = part.part
